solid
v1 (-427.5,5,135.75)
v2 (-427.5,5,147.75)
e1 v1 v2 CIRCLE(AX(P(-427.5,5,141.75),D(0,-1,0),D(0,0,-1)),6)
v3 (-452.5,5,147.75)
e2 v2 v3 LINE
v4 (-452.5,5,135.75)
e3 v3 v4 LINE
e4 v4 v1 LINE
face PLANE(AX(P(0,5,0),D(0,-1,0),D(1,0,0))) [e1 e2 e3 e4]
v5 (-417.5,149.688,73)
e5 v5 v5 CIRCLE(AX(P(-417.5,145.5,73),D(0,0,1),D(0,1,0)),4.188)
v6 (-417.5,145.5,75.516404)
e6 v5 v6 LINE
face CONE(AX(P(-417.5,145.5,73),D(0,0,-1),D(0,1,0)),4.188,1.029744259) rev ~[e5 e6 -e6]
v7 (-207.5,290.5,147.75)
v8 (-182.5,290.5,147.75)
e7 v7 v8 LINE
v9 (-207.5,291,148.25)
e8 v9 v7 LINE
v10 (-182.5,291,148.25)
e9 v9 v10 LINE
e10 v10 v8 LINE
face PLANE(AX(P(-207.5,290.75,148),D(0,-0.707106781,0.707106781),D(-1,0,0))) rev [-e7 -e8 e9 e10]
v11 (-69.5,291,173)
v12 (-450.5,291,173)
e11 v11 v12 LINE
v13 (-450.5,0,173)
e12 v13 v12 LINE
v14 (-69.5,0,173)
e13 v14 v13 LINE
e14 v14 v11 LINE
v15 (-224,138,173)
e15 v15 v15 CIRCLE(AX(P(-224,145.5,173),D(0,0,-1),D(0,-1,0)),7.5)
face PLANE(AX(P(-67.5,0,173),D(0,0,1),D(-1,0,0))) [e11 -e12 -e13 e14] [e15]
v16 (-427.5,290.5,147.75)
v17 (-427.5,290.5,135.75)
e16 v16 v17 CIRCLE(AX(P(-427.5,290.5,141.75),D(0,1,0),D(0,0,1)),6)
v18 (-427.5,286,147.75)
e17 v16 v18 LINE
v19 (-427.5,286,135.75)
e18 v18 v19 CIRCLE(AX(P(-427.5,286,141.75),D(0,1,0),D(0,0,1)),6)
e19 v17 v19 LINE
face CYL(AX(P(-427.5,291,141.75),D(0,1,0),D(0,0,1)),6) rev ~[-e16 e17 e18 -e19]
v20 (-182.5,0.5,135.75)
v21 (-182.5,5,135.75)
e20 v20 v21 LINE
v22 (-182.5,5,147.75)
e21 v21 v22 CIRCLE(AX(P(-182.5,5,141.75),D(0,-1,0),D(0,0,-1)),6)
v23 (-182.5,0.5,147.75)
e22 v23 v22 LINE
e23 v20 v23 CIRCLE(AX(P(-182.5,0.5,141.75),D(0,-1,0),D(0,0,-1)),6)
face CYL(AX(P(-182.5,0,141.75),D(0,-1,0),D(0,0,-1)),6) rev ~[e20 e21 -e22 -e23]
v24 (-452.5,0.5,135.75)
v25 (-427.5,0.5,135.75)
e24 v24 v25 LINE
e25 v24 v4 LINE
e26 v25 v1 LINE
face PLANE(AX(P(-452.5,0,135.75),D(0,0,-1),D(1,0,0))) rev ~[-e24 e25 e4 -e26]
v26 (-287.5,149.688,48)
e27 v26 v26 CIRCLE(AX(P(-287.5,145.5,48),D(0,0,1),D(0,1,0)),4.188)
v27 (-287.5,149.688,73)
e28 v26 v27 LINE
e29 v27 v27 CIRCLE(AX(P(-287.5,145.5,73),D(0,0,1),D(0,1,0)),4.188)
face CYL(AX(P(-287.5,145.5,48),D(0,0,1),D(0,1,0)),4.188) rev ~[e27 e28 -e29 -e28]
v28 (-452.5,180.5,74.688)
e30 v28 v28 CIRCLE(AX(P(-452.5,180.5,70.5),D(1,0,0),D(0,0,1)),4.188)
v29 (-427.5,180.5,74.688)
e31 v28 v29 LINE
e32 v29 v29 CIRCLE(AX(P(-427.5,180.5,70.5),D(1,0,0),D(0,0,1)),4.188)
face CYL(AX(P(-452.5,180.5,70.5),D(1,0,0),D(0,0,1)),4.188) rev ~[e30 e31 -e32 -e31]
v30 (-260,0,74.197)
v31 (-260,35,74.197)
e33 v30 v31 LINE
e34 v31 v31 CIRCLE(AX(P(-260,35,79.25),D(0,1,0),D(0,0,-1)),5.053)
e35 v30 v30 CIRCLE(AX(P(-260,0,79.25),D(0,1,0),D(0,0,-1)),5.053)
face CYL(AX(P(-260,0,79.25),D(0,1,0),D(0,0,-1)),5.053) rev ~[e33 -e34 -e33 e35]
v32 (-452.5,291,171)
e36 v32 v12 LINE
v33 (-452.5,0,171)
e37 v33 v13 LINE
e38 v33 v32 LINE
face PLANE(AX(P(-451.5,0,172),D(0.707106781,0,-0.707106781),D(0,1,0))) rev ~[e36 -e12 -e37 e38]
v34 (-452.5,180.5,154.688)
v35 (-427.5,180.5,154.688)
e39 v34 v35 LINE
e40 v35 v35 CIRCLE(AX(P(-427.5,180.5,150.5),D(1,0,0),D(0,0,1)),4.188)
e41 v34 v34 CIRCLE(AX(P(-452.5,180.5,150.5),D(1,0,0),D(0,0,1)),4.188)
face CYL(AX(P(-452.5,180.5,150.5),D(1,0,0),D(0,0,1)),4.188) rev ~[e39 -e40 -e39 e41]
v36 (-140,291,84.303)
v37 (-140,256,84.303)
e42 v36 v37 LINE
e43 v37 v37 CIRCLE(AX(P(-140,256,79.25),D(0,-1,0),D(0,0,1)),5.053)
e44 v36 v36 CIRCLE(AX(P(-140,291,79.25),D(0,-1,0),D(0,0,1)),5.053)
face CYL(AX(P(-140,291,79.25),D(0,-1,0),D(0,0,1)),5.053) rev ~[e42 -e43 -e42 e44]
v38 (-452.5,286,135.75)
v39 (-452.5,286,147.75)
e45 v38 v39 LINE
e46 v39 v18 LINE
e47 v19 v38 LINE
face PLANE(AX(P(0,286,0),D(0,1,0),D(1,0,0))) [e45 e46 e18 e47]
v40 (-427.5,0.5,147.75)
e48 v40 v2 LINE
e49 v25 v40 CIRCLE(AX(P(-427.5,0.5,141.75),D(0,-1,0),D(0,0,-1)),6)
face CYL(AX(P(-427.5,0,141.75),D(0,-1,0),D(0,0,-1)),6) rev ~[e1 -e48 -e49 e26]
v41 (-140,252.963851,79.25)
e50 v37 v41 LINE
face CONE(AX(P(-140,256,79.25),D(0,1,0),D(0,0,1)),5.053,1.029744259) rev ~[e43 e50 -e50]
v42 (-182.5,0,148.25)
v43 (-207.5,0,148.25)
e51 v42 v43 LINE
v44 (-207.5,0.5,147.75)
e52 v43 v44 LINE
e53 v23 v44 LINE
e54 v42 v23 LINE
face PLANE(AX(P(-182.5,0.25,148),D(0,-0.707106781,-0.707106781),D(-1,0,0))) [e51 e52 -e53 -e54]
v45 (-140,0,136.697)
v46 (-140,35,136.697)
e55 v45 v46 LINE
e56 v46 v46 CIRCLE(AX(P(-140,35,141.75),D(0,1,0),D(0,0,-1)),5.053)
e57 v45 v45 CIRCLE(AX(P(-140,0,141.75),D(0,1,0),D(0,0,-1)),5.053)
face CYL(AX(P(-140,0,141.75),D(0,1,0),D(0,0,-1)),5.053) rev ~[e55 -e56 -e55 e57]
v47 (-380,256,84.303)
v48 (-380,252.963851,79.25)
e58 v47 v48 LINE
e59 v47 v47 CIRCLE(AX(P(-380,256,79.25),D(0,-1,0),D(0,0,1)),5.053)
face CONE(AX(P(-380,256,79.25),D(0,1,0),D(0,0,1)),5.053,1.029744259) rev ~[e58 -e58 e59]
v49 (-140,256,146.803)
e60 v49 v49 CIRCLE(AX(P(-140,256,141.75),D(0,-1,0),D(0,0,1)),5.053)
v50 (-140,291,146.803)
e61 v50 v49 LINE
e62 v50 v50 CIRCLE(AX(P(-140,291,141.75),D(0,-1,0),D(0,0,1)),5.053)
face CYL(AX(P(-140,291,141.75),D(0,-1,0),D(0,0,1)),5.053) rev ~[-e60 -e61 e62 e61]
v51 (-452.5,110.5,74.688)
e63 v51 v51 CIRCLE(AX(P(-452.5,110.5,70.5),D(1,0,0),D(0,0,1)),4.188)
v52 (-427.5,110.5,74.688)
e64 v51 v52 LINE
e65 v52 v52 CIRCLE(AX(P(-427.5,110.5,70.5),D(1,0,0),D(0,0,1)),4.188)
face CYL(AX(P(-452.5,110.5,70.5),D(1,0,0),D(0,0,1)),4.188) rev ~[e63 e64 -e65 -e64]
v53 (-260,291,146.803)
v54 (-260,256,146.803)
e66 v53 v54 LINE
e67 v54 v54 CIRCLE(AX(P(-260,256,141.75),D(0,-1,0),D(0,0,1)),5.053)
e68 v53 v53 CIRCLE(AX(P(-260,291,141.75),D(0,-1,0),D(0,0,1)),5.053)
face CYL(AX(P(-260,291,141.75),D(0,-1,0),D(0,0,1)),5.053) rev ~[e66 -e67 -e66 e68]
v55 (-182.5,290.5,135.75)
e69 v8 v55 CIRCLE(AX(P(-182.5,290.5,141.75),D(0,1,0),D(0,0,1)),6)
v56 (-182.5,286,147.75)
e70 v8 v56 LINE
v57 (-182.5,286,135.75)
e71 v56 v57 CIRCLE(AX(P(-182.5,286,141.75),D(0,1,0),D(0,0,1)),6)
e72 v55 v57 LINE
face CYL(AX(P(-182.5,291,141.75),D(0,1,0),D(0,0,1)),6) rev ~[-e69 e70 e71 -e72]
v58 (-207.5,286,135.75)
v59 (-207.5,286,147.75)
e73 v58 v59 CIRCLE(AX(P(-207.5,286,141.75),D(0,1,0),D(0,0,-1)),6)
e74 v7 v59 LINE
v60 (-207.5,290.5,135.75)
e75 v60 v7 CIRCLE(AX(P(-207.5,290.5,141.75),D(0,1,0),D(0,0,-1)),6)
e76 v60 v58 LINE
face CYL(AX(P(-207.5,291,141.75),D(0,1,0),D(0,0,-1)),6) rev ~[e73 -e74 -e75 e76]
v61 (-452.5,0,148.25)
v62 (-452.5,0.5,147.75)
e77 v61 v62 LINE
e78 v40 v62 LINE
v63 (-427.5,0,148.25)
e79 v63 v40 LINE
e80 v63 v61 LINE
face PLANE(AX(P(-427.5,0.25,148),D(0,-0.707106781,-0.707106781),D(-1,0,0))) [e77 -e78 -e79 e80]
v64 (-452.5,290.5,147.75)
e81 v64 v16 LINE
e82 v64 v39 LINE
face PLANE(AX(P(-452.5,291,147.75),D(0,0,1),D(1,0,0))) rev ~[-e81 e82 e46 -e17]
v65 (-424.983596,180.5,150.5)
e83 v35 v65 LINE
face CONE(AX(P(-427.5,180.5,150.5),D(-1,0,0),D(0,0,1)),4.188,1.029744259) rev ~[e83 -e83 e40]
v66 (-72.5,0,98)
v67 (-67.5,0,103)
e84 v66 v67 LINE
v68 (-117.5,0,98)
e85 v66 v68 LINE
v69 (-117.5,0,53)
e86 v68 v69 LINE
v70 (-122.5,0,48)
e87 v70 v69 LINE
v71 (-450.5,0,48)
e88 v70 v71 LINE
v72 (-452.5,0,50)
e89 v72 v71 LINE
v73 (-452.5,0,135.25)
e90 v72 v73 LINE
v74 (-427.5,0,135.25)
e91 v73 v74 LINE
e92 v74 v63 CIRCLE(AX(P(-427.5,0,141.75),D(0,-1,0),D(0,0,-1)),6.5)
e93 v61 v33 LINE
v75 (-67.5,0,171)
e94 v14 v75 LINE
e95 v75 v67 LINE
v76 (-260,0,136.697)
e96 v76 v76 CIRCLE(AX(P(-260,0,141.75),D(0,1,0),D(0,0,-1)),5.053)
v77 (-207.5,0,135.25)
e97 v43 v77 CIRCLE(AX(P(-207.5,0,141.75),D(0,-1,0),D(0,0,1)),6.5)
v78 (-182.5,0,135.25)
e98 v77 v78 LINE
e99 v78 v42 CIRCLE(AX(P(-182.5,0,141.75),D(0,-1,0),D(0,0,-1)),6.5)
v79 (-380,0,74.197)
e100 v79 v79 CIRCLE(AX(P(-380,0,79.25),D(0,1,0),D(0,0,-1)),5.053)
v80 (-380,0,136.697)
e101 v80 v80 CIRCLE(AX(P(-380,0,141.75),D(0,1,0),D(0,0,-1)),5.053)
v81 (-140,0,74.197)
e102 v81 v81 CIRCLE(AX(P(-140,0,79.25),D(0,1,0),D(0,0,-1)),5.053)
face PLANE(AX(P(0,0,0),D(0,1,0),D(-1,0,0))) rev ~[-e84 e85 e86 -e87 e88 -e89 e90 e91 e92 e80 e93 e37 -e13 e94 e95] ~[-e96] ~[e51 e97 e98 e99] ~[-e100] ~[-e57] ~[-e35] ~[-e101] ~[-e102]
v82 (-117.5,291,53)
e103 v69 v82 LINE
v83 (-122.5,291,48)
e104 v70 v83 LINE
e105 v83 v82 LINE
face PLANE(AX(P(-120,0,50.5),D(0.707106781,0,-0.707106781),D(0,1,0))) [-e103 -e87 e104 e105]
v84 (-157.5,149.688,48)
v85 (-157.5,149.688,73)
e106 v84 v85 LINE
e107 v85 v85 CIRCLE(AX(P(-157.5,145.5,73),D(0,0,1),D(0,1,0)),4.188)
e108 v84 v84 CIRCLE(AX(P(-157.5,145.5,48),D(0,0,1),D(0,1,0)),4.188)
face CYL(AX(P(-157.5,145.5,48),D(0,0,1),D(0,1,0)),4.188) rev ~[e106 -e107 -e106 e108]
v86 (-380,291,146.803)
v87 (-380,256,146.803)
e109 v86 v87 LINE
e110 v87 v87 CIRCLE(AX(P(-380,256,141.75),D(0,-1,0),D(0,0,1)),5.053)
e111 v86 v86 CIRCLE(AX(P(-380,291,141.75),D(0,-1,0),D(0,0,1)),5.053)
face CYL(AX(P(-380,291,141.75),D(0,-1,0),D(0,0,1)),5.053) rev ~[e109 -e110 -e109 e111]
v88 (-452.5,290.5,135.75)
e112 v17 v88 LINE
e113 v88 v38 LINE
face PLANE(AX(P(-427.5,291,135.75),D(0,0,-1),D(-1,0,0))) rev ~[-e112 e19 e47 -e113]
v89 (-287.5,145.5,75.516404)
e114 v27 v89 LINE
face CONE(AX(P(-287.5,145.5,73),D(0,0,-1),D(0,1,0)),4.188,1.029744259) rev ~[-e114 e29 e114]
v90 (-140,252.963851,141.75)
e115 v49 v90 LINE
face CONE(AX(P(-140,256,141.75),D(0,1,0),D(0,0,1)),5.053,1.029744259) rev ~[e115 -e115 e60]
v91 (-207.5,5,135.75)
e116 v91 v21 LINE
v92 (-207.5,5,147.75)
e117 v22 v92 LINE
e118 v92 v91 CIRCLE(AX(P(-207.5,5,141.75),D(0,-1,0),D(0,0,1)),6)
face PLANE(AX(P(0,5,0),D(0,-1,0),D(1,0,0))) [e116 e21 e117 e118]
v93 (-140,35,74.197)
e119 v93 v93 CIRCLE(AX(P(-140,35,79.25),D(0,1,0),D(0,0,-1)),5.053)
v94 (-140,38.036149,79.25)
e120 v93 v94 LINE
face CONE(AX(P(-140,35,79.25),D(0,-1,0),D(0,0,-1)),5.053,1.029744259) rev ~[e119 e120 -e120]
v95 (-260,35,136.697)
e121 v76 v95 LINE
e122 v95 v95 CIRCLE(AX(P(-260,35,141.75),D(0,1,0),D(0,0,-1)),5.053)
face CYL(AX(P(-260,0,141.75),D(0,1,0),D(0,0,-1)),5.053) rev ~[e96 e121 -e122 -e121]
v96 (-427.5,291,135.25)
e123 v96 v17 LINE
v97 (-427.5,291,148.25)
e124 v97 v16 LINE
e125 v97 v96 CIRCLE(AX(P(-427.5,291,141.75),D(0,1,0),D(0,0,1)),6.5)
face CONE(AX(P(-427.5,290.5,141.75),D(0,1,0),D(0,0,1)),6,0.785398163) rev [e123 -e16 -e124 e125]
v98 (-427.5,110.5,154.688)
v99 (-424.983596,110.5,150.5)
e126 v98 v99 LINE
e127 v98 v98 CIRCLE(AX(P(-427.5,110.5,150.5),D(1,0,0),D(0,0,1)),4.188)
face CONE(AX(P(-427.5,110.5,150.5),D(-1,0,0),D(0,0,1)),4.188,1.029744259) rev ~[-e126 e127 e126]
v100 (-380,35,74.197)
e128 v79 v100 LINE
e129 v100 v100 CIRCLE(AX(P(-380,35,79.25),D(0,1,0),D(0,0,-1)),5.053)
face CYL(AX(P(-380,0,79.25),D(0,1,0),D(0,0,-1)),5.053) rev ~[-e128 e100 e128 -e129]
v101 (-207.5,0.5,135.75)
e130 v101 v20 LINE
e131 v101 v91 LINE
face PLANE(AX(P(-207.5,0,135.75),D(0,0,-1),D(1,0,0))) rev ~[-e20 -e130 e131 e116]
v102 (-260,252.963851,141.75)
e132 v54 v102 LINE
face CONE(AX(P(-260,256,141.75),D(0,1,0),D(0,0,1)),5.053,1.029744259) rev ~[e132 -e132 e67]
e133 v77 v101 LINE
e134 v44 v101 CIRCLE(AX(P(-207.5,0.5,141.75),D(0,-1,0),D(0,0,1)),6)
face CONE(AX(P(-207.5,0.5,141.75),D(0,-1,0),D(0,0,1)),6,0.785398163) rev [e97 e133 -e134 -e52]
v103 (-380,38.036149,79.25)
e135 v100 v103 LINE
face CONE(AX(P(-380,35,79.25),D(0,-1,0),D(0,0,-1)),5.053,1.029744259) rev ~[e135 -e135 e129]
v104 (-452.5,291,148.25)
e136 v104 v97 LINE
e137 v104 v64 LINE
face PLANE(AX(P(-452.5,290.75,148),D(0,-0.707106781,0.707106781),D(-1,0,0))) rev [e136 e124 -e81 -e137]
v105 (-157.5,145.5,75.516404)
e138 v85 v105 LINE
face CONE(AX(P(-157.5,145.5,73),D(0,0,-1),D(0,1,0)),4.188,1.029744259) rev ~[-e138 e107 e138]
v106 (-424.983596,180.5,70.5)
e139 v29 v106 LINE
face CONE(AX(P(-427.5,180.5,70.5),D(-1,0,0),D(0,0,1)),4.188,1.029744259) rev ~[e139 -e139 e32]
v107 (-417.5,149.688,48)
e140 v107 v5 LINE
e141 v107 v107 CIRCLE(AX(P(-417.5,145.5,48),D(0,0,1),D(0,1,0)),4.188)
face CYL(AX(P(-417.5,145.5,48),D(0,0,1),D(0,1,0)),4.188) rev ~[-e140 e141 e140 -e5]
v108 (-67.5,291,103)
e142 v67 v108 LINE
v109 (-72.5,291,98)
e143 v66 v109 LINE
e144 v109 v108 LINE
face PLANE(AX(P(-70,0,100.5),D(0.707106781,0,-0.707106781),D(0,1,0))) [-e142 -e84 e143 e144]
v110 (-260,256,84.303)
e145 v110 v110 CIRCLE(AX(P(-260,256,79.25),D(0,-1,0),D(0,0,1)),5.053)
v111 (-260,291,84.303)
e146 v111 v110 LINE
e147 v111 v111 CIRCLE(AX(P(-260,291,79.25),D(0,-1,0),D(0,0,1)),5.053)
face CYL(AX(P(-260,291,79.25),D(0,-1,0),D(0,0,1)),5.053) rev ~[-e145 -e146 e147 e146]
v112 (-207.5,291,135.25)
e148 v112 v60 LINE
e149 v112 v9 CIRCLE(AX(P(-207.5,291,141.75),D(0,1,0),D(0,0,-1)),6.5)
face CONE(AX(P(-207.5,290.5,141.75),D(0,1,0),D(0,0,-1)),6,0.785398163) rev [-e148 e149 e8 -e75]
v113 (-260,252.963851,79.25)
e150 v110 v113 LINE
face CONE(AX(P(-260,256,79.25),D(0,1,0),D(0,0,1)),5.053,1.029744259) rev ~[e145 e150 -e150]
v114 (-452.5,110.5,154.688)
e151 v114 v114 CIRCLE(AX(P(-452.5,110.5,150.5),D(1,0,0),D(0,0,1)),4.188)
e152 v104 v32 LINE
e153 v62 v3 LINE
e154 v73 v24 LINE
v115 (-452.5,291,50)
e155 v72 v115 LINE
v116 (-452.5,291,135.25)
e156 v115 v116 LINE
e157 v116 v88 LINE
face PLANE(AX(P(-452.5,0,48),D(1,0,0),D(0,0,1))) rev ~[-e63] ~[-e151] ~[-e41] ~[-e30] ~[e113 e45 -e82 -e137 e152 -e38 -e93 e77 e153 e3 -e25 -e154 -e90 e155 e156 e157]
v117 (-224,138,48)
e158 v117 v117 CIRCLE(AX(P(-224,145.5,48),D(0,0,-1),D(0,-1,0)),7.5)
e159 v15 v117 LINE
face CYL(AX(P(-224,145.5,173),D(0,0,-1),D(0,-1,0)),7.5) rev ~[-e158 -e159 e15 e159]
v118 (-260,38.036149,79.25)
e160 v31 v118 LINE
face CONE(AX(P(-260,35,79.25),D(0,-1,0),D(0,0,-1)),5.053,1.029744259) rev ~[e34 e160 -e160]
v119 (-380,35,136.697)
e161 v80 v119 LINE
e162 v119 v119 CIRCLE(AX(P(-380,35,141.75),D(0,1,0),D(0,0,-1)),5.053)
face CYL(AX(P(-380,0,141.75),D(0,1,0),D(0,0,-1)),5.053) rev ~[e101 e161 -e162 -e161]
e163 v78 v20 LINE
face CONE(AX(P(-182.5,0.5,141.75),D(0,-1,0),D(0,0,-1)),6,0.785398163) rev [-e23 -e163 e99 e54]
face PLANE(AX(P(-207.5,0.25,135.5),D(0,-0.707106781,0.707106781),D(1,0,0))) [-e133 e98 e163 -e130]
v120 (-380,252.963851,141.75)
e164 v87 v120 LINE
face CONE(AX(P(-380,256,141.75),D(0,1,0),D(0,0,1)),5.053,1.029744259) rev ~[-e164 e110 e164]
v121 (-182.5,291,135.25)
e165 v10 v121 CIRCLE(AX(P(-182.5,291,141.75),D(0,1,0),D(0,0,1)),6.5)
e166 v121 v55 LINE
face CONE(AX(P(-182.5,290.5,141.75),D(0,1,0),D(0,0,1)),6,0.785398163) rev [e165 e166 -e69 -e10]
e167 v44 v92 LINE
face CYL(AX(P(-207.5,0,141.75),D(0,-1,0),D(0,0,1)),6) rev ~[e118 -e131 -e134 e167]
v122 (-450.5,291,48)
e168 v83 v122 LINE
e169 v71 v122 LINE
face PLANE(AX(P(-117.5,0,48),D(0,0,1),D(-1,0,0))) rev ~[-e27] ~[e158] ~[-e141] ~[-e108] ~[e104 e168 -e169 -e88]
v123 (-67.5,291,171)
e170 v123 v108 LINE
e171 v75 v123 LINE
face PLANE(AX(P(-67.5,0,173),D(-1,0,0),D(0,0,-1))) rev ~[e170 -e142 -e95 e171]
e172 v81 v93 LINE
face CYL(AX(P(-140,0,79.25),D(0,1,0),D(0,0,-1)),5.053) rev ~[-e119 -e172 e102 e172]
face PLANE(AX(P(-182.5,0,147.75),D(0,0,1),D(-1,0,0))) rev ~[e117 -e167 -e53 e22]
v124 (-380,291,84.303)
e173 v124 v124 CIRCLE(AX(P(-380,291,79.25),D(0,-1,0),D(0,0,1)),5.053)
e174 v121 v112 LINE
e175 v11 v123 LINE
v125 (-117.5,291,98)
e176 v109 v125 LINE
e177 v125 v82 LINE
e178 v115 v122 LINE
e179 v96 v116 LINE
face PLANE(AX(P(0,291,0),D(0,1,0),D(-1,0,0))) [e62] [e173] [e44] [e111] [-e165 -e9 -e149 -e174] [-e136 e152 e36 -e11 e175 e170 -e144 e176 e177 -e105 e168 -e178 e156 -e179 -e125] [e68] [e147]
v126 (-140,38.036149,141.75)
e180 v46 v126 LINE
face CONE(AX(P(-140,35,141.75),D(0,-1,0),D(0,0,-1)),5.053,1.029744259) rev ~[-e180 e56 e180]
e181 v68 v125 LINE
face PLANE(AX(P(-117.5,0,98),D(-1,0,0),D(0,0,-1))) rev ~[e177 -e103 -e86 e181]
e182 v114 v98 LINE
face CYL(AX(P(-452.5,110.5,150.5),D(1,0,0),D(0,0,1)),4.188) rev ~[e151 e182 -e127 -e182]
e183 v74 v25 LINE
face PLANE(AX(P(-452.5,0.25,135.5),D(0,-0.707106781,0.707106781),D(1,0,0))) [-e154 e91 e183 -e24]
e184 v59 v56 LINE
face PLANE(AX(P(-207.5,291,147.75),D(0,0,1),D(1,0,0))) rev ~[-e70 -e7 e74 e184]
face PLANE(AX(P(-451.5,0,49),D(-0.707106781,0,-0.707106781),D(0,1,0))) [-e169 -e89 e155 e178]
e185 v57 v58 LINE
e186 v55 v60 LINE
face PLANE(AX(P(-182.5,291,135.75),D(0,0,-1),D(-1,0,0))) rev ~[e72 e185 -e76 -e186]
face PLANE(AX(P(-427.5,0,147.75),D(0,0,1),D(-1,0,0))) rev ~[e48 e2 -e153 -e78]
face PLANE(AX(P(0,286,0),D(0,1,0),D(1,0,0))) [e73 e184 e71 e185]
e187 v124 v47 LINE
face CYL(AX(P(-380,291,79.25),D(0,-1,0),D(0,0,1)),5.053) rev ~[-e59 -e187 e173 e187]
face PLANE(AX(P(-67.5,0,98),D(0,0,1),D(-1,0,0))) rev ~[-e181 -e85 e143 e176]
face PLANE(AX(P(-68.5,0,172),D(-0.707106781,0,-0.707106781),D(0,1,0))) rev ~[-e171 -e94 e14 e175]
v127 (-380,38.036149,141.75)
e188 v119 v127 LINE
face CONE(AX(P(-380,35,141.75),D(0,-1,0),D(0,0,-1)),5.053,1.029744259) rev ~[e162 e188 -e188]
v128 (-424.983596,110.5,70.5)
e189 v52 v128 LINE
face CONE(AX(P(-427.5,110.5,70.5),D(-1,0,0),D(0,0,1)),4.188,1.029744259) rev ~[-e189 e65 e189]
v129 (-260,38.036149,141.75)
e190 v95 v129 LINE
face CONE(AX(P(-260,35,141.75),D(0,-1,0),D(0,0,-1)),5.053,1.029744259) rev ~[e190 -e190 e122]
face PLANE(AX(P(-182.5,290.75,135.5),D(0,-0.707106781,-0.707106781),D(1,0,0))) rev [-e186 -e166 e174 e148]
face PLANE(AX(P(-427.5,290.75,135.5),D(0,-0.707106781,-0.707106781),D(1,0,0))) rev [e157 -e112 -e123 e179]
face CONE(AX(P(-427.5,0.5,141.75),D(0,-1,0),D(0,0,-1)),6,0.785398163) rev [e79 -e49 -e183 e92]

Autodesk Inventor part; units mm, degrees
ref_plane "YZ Plane" through (0, 0, 0) normal (1, 0, 0) x (0, 1, 0)
ref_plane "XZ Plane" through (0, 0, 0) normal (0, 1, 0) x (-1, 0, 0)
ref_plane "XY Plane" through (0, 0, 0) normal (0, 0, 1) x (1, 0, 0)
sketch "Sketch5" plane through (0, 0, 0) normal (0, 1, 0) x (-1, 0, 0)
  line L0 (452.5, 48) -> (452.5, 173)
  line L1 (117.5, 98) -> (117.5, 48)
  line L2 (117.5, 48) -> (452.5, 48)
  line L3 (67.5, 173) -> (67.5, 98)
  line L4 (67.5, 98) -> (117.5, 98)
  line L5 (67.5, 173) -> (452.5, 173)
  dimension "d8" = 125
  dimension "d13" = 385
  dimension "d18" = 50
  dimension "d42" = 50
extrude "Extrusion5" add sketch "Sketch5" along normal blind 291
sketch "Sketch6" plane through (0, 291, 0) normal (0, 1, 0) x (1, 0, 0)
  line L0 (-452.5, -173) -> (-67.5, -173) projected
  line L1 (-117.5, -48) -> (-452.5, -48) projected
  circle A0 centre (-140, -141.75) radius 6
  circle A1 centre (-140, -79.25) radius 6
  circle A2 centre (-260, -141.75) radius 6
  circle A3 centre (-260, -79.25) radius 6
  circle A4 centre (-380, -141.75) radius 6
  circle A5 centre (-380, -79.25) radius 6
  line L2 (-452.5, -48) -> (-452.5, -173) projected
  line L3 (-67.5, -173) -> (-67.5, -98) projected
  point P0 (0, 0)
  point P1 (-260, -173)
  dimension "d19" = 12
  dimension "d20" = 120
  dimension "d21" = 385
  dimension "d22" = 125
  dimension "d23" = 120
  dimension "d24" = 62.5
  dimension "d25" = 31.25
  dimension "d26" = 31.25
  dimension "d41" = 72.5
  dimension "d61" = 72.5
  dimension "d62" = 192.5
hole "Hole1" at (-140, 291, 141.75) at (-260, 291, 141.75) at (-380, 291, 141.75) at (-380, 291, 79.25) at (-260, 291, 79.25) at (-140, 291, 79.25) direction (0, -1, 0) diameter 10.106 depth 35 tip angle 118 thread size "M12x1.75" class "6H" standard "ISO Metric profile"
sketch "Sketch7" plane through (0, 0, 0) normal (0, -1, 0) x (1, 0, 0)
  circle A0 centre (-380, 141.75) radius 5.053
  circle A1 centre (-380, 79.25) radius 5.053
  circle A2 centre (-260, 141.75) radius 5.053
  circle A3 centre (-260, 79.25) radius 5.053
  circle A4 centre (-140, 141.75) radius 5.053
  circle A5 centre (-140, 79.25) radius 5.053
  circle A6 centre (-140, 141.75) radius 5.053 projected
  circle A7 centre (-140, 79.25) radius 5.053 projected
  circle A8 centre (-260, 79.25) radius 5.053 projected
  circle A9 centre (-260, 141.75) radius 5.053 projected
  circle A10 centre (-380, 141.75) radius 5.053 projected
  circle A11 centre (-380, 79.25) radius 5.053 projected
  point P0 (0, 0)
hole "Hole2" at (-380, 0, 141.75) at (-380, 0, 79.25) at (-260, 0, 79.25) at (-260, 0, 141.75) at (-140, 0, 141.75) at (-140, 0, 79.25) direction (0, 1, 0) diameter 10.106 depth 35 tip angle 118 thread size "M12x1.75" class "6H" standard "ISO Metric profile"
chamfer "Chamfer1" distance 5 angle 45 2 edges at (-67.5, 145.5, 98) (-117.5, 145.5, 48)
sketch "Sketch8" plane through (0, 291, 0) normal (0, 1, 0) x (1, 0, 0)
  line L0 (-182.5, -141.75) -> (-207.5, -141.75) construction
  line L1 (-182.5, -135.75) -> (-207.5, -135.75)
  line L2 (-207.5, -147.75) -> (-182.5, -147.75)
  arc A0 (-182.5, -147.75) -> (-182.5, -135.75) centre (-182.5, -141.75) ccw
  arc A1 (-207.5, -135.75) -> (-207.5, -147.75) centre (-207.5, -141.75) ccw
  line L3 (-427.5, -141.75) -> (-452.5, -141.75) construction
  line L4 (-427.5, -135.75) -> (-452.5, -135.75)
  line L5 (-452.5, -147.75) -> (-427.5, -147.75)
  arc A2 (-427.5, -147.75) -> (-427.5, -135.75) centre (-427.5, -141.75) ccw
  arc A3 (-452.5, -135.75) -> (-452.5, -147.75) centre (-452.5, -141.75) ccw
  line L6 (-452.5, -48) -> (-452.5, -173) projected
  circle A4 centre (-260, -141.75) radius 5.053 projected
  point P0 (0, 0)
  point P1 (-440, -141.75)
  point P2 (-195, -141.75)
  point P3 (-440, -141.75)
  point P4 (-195, -147.75)
  point P5 (-195, -141.75)
  dimension "d46" = 12
  dimension "d47" = 12
  dimension "d48" = 25
  dimension "d49" = 25
  dimension "d58" = 12.5
  dimension "d60" = 257.5
extrude "Extrusion6" cut sketch "Sketch8" against normal blind 5 contours A0 L2 A1 L1 | A2 L5 L6 L4 | L6 A3
sketch "Sketch9" plane through (0, 0, 0) normal (0, -1, 0) x (1, 0, 0)
  line L0 (-452.5, 141.75) -> (-427.5, 141.75) construction
  line L1 (-452.5, 135.75) -> (-427.5, 135.75)
  line L2 (-427.5, 147.75) -> (-452.5, 147.75)
  arc A0 (-452.5, 147.75) -> (-452.5, 135.75) centre (-452.5, 141.75) ccw
  arc A1 (-427.5, 135.75) -> (-427.5, 147.75) centre (-427.5, 141.75) ccw
  line L3 (-207.5, 141.75) -> (-182.5, 141.75) construction
  line L4 (-207.5, 135.75) -> (-182.5, 135.75)
  line L5 (-182.5, 147.75) -> (-207.5, 147.75)
  arc A2 (-207.5, 147.75) -> (-207.5, 135.75) centre (-207.5, 141.75) ccw
  arc A3 (-182.5, 135.75) -> (-182.5, 147.75) centre (-182.5, 141.75) ccw
  arc A4 (-427.5, 135.75) -> (-427.5, 147.75) centre (-427.5, 141.75) ccw projected
  arc A5 (-207.5, 147.75) -> (-207.5, 135.75) centre (-207.5, 141.75) ccw projected
  arc A6 (-182.5, 135.75) -> (-182.5, 147.75) centre (-182.5, 141.75) ccw projected
  line L6 (-452.5, 48) -> (-452.5, 173) projected
  point P0 (0, 0)
  point P1 (-440, 141.75)
  point P2 (-195, 141.75)
  dimension "d76" = 25
  dimension "d77" = 25
  dimension "d78" = 12.5
extrude "Extrusion7" cut sketch "Sketch9" against normal blind 5
sketch "Sketch10" plane through (-452.5, 0, 48) normal (0, 0, -1) x (-1, 0, 0)
  line L0 (0, 0) -> (0, 291) projected
  line L1 (-330, 291) -> (0, 291) projected
  circle A0 centre (-295, 145.5) radius 5
  circle A1 centre (-165, 145.5) radius 5
  circle A2 centre (-35, 145.5) radius 5
  point P0 (-452.5, 0)
  point P1 (0, 145.5)
  point P2 (-165, 291)
  dimension "d63" = 130
  dimension "d64" = 130
  dimension "d65" = 10
hole "Hole3" at (-157.5, 145.5, 48) at (-287.5, 145.5, 48) at (-417.5, 145.5, 48) direction (0, 0, 1) diameter 8.376 depth 25 tip angle 118 thread size "M10x1.5" class "6H" standard "ISO Metric profile"
chamfer "Chamfer2" distance 0.5 angle 45 14 edges at (-195, 291, 147.75) (-213.5, 291, 141.75) (-195, 291, 135.75) (-176.5, 291, 141.75) (-440, 291, 147.75) (-440, 291, 135.75) (-421.5, 291, 141.75) (-213.5, 0, 141.75) (-195, 0, 147.75) (-176.5, 0, 141.75) (-195, 0, 135.75) (-440, 0, 147.75) (-421.5, 0, 141.75) (-440, 0, 135.75)
chamfer "Chamfer3" distance 2 angle 45 3 edges at (-67.5, 145.5, 173) (-452.5, 145.5, 173) (-452.5, 145.5, 48)
sketch "Sketch11" plane through (-450.5, 0, 173) normal (0, 0, 1) x (1, 0, 0)
  circle A0 centre (226.5, 145.5) radius 7.5
  line L0 (-2, 291) -> (-2, 0) projected
  point P0 (450.5, 0)
  point P1 (-2, 145.5)
  dimension "d82" = 228.5
  dimension "d83" = 15
hole "Hole4" at (-224, 145.5, 173) direction (0, 0, -1) diameter 15 end through all
sketch "Sketch12" plane through (-452.5, 286, 135.75) normal (-1, 0, 0) x (0, 0, 1)
  line L0 (-85.75, -286) -> (-85.75, 5) projected
  line L1 (-85.75, -286) -> (-0.5, -286) projected
  line L2 (-85.75, 5) -> (-0.5, 5) projected
  circle A0 centre (-65.25, -105.5) radius 5
  circle A1 centre (14.75, -105.5) radius 5
  circle A2 centre (-65.25, -175.5) radius 5
  circle A3 centre (14.75, -175.5) radius 5
  line L3 (-85.75, -140.5) -> (-93.0771, -140.5)
  line L4 (37.25, -286) -> (37.25, 5) projected
  line L5 (-87.75, 5) -> (-87.75, -286) projected
  point P0 (-135.75, -286)
  dimension "d91" = 10
  dimension "d92" = 80
  dimension "d94" = 70
  dimension "d96" = 35
  dimension "d97" = 125
  dimension "d99" = 22.5
  dimension "d100" = 110.5
  dimension "d101" = 110.5
hole "Hole5" at (-452.5, 180.5, 150.5) at (-452.5, 180.5, 70.5) at (-452.5, 110.5, 150.5) at (-452.5, 110.5, 70.5) direction (1, 0, 0) diameter 8.376 depth 25 tip angle 118 thread size "M10x1.5" class "6H" standard "ISO Metric profile"
equation "\"d20\" = d23"
equation "\"d25\" = -0.5 * d24 + 0.5 * d22"
equation "\"d47\" = d46"
equation "\"d49\" = d48"
equation "\"d64\" = d63"
equation "\"d96\" = 0.5 * d94"
equation "\"d99\" = -0.5 * d92 + 0.5 * d97"
properties part number "BC-10010" material "Alumínio 7075"
